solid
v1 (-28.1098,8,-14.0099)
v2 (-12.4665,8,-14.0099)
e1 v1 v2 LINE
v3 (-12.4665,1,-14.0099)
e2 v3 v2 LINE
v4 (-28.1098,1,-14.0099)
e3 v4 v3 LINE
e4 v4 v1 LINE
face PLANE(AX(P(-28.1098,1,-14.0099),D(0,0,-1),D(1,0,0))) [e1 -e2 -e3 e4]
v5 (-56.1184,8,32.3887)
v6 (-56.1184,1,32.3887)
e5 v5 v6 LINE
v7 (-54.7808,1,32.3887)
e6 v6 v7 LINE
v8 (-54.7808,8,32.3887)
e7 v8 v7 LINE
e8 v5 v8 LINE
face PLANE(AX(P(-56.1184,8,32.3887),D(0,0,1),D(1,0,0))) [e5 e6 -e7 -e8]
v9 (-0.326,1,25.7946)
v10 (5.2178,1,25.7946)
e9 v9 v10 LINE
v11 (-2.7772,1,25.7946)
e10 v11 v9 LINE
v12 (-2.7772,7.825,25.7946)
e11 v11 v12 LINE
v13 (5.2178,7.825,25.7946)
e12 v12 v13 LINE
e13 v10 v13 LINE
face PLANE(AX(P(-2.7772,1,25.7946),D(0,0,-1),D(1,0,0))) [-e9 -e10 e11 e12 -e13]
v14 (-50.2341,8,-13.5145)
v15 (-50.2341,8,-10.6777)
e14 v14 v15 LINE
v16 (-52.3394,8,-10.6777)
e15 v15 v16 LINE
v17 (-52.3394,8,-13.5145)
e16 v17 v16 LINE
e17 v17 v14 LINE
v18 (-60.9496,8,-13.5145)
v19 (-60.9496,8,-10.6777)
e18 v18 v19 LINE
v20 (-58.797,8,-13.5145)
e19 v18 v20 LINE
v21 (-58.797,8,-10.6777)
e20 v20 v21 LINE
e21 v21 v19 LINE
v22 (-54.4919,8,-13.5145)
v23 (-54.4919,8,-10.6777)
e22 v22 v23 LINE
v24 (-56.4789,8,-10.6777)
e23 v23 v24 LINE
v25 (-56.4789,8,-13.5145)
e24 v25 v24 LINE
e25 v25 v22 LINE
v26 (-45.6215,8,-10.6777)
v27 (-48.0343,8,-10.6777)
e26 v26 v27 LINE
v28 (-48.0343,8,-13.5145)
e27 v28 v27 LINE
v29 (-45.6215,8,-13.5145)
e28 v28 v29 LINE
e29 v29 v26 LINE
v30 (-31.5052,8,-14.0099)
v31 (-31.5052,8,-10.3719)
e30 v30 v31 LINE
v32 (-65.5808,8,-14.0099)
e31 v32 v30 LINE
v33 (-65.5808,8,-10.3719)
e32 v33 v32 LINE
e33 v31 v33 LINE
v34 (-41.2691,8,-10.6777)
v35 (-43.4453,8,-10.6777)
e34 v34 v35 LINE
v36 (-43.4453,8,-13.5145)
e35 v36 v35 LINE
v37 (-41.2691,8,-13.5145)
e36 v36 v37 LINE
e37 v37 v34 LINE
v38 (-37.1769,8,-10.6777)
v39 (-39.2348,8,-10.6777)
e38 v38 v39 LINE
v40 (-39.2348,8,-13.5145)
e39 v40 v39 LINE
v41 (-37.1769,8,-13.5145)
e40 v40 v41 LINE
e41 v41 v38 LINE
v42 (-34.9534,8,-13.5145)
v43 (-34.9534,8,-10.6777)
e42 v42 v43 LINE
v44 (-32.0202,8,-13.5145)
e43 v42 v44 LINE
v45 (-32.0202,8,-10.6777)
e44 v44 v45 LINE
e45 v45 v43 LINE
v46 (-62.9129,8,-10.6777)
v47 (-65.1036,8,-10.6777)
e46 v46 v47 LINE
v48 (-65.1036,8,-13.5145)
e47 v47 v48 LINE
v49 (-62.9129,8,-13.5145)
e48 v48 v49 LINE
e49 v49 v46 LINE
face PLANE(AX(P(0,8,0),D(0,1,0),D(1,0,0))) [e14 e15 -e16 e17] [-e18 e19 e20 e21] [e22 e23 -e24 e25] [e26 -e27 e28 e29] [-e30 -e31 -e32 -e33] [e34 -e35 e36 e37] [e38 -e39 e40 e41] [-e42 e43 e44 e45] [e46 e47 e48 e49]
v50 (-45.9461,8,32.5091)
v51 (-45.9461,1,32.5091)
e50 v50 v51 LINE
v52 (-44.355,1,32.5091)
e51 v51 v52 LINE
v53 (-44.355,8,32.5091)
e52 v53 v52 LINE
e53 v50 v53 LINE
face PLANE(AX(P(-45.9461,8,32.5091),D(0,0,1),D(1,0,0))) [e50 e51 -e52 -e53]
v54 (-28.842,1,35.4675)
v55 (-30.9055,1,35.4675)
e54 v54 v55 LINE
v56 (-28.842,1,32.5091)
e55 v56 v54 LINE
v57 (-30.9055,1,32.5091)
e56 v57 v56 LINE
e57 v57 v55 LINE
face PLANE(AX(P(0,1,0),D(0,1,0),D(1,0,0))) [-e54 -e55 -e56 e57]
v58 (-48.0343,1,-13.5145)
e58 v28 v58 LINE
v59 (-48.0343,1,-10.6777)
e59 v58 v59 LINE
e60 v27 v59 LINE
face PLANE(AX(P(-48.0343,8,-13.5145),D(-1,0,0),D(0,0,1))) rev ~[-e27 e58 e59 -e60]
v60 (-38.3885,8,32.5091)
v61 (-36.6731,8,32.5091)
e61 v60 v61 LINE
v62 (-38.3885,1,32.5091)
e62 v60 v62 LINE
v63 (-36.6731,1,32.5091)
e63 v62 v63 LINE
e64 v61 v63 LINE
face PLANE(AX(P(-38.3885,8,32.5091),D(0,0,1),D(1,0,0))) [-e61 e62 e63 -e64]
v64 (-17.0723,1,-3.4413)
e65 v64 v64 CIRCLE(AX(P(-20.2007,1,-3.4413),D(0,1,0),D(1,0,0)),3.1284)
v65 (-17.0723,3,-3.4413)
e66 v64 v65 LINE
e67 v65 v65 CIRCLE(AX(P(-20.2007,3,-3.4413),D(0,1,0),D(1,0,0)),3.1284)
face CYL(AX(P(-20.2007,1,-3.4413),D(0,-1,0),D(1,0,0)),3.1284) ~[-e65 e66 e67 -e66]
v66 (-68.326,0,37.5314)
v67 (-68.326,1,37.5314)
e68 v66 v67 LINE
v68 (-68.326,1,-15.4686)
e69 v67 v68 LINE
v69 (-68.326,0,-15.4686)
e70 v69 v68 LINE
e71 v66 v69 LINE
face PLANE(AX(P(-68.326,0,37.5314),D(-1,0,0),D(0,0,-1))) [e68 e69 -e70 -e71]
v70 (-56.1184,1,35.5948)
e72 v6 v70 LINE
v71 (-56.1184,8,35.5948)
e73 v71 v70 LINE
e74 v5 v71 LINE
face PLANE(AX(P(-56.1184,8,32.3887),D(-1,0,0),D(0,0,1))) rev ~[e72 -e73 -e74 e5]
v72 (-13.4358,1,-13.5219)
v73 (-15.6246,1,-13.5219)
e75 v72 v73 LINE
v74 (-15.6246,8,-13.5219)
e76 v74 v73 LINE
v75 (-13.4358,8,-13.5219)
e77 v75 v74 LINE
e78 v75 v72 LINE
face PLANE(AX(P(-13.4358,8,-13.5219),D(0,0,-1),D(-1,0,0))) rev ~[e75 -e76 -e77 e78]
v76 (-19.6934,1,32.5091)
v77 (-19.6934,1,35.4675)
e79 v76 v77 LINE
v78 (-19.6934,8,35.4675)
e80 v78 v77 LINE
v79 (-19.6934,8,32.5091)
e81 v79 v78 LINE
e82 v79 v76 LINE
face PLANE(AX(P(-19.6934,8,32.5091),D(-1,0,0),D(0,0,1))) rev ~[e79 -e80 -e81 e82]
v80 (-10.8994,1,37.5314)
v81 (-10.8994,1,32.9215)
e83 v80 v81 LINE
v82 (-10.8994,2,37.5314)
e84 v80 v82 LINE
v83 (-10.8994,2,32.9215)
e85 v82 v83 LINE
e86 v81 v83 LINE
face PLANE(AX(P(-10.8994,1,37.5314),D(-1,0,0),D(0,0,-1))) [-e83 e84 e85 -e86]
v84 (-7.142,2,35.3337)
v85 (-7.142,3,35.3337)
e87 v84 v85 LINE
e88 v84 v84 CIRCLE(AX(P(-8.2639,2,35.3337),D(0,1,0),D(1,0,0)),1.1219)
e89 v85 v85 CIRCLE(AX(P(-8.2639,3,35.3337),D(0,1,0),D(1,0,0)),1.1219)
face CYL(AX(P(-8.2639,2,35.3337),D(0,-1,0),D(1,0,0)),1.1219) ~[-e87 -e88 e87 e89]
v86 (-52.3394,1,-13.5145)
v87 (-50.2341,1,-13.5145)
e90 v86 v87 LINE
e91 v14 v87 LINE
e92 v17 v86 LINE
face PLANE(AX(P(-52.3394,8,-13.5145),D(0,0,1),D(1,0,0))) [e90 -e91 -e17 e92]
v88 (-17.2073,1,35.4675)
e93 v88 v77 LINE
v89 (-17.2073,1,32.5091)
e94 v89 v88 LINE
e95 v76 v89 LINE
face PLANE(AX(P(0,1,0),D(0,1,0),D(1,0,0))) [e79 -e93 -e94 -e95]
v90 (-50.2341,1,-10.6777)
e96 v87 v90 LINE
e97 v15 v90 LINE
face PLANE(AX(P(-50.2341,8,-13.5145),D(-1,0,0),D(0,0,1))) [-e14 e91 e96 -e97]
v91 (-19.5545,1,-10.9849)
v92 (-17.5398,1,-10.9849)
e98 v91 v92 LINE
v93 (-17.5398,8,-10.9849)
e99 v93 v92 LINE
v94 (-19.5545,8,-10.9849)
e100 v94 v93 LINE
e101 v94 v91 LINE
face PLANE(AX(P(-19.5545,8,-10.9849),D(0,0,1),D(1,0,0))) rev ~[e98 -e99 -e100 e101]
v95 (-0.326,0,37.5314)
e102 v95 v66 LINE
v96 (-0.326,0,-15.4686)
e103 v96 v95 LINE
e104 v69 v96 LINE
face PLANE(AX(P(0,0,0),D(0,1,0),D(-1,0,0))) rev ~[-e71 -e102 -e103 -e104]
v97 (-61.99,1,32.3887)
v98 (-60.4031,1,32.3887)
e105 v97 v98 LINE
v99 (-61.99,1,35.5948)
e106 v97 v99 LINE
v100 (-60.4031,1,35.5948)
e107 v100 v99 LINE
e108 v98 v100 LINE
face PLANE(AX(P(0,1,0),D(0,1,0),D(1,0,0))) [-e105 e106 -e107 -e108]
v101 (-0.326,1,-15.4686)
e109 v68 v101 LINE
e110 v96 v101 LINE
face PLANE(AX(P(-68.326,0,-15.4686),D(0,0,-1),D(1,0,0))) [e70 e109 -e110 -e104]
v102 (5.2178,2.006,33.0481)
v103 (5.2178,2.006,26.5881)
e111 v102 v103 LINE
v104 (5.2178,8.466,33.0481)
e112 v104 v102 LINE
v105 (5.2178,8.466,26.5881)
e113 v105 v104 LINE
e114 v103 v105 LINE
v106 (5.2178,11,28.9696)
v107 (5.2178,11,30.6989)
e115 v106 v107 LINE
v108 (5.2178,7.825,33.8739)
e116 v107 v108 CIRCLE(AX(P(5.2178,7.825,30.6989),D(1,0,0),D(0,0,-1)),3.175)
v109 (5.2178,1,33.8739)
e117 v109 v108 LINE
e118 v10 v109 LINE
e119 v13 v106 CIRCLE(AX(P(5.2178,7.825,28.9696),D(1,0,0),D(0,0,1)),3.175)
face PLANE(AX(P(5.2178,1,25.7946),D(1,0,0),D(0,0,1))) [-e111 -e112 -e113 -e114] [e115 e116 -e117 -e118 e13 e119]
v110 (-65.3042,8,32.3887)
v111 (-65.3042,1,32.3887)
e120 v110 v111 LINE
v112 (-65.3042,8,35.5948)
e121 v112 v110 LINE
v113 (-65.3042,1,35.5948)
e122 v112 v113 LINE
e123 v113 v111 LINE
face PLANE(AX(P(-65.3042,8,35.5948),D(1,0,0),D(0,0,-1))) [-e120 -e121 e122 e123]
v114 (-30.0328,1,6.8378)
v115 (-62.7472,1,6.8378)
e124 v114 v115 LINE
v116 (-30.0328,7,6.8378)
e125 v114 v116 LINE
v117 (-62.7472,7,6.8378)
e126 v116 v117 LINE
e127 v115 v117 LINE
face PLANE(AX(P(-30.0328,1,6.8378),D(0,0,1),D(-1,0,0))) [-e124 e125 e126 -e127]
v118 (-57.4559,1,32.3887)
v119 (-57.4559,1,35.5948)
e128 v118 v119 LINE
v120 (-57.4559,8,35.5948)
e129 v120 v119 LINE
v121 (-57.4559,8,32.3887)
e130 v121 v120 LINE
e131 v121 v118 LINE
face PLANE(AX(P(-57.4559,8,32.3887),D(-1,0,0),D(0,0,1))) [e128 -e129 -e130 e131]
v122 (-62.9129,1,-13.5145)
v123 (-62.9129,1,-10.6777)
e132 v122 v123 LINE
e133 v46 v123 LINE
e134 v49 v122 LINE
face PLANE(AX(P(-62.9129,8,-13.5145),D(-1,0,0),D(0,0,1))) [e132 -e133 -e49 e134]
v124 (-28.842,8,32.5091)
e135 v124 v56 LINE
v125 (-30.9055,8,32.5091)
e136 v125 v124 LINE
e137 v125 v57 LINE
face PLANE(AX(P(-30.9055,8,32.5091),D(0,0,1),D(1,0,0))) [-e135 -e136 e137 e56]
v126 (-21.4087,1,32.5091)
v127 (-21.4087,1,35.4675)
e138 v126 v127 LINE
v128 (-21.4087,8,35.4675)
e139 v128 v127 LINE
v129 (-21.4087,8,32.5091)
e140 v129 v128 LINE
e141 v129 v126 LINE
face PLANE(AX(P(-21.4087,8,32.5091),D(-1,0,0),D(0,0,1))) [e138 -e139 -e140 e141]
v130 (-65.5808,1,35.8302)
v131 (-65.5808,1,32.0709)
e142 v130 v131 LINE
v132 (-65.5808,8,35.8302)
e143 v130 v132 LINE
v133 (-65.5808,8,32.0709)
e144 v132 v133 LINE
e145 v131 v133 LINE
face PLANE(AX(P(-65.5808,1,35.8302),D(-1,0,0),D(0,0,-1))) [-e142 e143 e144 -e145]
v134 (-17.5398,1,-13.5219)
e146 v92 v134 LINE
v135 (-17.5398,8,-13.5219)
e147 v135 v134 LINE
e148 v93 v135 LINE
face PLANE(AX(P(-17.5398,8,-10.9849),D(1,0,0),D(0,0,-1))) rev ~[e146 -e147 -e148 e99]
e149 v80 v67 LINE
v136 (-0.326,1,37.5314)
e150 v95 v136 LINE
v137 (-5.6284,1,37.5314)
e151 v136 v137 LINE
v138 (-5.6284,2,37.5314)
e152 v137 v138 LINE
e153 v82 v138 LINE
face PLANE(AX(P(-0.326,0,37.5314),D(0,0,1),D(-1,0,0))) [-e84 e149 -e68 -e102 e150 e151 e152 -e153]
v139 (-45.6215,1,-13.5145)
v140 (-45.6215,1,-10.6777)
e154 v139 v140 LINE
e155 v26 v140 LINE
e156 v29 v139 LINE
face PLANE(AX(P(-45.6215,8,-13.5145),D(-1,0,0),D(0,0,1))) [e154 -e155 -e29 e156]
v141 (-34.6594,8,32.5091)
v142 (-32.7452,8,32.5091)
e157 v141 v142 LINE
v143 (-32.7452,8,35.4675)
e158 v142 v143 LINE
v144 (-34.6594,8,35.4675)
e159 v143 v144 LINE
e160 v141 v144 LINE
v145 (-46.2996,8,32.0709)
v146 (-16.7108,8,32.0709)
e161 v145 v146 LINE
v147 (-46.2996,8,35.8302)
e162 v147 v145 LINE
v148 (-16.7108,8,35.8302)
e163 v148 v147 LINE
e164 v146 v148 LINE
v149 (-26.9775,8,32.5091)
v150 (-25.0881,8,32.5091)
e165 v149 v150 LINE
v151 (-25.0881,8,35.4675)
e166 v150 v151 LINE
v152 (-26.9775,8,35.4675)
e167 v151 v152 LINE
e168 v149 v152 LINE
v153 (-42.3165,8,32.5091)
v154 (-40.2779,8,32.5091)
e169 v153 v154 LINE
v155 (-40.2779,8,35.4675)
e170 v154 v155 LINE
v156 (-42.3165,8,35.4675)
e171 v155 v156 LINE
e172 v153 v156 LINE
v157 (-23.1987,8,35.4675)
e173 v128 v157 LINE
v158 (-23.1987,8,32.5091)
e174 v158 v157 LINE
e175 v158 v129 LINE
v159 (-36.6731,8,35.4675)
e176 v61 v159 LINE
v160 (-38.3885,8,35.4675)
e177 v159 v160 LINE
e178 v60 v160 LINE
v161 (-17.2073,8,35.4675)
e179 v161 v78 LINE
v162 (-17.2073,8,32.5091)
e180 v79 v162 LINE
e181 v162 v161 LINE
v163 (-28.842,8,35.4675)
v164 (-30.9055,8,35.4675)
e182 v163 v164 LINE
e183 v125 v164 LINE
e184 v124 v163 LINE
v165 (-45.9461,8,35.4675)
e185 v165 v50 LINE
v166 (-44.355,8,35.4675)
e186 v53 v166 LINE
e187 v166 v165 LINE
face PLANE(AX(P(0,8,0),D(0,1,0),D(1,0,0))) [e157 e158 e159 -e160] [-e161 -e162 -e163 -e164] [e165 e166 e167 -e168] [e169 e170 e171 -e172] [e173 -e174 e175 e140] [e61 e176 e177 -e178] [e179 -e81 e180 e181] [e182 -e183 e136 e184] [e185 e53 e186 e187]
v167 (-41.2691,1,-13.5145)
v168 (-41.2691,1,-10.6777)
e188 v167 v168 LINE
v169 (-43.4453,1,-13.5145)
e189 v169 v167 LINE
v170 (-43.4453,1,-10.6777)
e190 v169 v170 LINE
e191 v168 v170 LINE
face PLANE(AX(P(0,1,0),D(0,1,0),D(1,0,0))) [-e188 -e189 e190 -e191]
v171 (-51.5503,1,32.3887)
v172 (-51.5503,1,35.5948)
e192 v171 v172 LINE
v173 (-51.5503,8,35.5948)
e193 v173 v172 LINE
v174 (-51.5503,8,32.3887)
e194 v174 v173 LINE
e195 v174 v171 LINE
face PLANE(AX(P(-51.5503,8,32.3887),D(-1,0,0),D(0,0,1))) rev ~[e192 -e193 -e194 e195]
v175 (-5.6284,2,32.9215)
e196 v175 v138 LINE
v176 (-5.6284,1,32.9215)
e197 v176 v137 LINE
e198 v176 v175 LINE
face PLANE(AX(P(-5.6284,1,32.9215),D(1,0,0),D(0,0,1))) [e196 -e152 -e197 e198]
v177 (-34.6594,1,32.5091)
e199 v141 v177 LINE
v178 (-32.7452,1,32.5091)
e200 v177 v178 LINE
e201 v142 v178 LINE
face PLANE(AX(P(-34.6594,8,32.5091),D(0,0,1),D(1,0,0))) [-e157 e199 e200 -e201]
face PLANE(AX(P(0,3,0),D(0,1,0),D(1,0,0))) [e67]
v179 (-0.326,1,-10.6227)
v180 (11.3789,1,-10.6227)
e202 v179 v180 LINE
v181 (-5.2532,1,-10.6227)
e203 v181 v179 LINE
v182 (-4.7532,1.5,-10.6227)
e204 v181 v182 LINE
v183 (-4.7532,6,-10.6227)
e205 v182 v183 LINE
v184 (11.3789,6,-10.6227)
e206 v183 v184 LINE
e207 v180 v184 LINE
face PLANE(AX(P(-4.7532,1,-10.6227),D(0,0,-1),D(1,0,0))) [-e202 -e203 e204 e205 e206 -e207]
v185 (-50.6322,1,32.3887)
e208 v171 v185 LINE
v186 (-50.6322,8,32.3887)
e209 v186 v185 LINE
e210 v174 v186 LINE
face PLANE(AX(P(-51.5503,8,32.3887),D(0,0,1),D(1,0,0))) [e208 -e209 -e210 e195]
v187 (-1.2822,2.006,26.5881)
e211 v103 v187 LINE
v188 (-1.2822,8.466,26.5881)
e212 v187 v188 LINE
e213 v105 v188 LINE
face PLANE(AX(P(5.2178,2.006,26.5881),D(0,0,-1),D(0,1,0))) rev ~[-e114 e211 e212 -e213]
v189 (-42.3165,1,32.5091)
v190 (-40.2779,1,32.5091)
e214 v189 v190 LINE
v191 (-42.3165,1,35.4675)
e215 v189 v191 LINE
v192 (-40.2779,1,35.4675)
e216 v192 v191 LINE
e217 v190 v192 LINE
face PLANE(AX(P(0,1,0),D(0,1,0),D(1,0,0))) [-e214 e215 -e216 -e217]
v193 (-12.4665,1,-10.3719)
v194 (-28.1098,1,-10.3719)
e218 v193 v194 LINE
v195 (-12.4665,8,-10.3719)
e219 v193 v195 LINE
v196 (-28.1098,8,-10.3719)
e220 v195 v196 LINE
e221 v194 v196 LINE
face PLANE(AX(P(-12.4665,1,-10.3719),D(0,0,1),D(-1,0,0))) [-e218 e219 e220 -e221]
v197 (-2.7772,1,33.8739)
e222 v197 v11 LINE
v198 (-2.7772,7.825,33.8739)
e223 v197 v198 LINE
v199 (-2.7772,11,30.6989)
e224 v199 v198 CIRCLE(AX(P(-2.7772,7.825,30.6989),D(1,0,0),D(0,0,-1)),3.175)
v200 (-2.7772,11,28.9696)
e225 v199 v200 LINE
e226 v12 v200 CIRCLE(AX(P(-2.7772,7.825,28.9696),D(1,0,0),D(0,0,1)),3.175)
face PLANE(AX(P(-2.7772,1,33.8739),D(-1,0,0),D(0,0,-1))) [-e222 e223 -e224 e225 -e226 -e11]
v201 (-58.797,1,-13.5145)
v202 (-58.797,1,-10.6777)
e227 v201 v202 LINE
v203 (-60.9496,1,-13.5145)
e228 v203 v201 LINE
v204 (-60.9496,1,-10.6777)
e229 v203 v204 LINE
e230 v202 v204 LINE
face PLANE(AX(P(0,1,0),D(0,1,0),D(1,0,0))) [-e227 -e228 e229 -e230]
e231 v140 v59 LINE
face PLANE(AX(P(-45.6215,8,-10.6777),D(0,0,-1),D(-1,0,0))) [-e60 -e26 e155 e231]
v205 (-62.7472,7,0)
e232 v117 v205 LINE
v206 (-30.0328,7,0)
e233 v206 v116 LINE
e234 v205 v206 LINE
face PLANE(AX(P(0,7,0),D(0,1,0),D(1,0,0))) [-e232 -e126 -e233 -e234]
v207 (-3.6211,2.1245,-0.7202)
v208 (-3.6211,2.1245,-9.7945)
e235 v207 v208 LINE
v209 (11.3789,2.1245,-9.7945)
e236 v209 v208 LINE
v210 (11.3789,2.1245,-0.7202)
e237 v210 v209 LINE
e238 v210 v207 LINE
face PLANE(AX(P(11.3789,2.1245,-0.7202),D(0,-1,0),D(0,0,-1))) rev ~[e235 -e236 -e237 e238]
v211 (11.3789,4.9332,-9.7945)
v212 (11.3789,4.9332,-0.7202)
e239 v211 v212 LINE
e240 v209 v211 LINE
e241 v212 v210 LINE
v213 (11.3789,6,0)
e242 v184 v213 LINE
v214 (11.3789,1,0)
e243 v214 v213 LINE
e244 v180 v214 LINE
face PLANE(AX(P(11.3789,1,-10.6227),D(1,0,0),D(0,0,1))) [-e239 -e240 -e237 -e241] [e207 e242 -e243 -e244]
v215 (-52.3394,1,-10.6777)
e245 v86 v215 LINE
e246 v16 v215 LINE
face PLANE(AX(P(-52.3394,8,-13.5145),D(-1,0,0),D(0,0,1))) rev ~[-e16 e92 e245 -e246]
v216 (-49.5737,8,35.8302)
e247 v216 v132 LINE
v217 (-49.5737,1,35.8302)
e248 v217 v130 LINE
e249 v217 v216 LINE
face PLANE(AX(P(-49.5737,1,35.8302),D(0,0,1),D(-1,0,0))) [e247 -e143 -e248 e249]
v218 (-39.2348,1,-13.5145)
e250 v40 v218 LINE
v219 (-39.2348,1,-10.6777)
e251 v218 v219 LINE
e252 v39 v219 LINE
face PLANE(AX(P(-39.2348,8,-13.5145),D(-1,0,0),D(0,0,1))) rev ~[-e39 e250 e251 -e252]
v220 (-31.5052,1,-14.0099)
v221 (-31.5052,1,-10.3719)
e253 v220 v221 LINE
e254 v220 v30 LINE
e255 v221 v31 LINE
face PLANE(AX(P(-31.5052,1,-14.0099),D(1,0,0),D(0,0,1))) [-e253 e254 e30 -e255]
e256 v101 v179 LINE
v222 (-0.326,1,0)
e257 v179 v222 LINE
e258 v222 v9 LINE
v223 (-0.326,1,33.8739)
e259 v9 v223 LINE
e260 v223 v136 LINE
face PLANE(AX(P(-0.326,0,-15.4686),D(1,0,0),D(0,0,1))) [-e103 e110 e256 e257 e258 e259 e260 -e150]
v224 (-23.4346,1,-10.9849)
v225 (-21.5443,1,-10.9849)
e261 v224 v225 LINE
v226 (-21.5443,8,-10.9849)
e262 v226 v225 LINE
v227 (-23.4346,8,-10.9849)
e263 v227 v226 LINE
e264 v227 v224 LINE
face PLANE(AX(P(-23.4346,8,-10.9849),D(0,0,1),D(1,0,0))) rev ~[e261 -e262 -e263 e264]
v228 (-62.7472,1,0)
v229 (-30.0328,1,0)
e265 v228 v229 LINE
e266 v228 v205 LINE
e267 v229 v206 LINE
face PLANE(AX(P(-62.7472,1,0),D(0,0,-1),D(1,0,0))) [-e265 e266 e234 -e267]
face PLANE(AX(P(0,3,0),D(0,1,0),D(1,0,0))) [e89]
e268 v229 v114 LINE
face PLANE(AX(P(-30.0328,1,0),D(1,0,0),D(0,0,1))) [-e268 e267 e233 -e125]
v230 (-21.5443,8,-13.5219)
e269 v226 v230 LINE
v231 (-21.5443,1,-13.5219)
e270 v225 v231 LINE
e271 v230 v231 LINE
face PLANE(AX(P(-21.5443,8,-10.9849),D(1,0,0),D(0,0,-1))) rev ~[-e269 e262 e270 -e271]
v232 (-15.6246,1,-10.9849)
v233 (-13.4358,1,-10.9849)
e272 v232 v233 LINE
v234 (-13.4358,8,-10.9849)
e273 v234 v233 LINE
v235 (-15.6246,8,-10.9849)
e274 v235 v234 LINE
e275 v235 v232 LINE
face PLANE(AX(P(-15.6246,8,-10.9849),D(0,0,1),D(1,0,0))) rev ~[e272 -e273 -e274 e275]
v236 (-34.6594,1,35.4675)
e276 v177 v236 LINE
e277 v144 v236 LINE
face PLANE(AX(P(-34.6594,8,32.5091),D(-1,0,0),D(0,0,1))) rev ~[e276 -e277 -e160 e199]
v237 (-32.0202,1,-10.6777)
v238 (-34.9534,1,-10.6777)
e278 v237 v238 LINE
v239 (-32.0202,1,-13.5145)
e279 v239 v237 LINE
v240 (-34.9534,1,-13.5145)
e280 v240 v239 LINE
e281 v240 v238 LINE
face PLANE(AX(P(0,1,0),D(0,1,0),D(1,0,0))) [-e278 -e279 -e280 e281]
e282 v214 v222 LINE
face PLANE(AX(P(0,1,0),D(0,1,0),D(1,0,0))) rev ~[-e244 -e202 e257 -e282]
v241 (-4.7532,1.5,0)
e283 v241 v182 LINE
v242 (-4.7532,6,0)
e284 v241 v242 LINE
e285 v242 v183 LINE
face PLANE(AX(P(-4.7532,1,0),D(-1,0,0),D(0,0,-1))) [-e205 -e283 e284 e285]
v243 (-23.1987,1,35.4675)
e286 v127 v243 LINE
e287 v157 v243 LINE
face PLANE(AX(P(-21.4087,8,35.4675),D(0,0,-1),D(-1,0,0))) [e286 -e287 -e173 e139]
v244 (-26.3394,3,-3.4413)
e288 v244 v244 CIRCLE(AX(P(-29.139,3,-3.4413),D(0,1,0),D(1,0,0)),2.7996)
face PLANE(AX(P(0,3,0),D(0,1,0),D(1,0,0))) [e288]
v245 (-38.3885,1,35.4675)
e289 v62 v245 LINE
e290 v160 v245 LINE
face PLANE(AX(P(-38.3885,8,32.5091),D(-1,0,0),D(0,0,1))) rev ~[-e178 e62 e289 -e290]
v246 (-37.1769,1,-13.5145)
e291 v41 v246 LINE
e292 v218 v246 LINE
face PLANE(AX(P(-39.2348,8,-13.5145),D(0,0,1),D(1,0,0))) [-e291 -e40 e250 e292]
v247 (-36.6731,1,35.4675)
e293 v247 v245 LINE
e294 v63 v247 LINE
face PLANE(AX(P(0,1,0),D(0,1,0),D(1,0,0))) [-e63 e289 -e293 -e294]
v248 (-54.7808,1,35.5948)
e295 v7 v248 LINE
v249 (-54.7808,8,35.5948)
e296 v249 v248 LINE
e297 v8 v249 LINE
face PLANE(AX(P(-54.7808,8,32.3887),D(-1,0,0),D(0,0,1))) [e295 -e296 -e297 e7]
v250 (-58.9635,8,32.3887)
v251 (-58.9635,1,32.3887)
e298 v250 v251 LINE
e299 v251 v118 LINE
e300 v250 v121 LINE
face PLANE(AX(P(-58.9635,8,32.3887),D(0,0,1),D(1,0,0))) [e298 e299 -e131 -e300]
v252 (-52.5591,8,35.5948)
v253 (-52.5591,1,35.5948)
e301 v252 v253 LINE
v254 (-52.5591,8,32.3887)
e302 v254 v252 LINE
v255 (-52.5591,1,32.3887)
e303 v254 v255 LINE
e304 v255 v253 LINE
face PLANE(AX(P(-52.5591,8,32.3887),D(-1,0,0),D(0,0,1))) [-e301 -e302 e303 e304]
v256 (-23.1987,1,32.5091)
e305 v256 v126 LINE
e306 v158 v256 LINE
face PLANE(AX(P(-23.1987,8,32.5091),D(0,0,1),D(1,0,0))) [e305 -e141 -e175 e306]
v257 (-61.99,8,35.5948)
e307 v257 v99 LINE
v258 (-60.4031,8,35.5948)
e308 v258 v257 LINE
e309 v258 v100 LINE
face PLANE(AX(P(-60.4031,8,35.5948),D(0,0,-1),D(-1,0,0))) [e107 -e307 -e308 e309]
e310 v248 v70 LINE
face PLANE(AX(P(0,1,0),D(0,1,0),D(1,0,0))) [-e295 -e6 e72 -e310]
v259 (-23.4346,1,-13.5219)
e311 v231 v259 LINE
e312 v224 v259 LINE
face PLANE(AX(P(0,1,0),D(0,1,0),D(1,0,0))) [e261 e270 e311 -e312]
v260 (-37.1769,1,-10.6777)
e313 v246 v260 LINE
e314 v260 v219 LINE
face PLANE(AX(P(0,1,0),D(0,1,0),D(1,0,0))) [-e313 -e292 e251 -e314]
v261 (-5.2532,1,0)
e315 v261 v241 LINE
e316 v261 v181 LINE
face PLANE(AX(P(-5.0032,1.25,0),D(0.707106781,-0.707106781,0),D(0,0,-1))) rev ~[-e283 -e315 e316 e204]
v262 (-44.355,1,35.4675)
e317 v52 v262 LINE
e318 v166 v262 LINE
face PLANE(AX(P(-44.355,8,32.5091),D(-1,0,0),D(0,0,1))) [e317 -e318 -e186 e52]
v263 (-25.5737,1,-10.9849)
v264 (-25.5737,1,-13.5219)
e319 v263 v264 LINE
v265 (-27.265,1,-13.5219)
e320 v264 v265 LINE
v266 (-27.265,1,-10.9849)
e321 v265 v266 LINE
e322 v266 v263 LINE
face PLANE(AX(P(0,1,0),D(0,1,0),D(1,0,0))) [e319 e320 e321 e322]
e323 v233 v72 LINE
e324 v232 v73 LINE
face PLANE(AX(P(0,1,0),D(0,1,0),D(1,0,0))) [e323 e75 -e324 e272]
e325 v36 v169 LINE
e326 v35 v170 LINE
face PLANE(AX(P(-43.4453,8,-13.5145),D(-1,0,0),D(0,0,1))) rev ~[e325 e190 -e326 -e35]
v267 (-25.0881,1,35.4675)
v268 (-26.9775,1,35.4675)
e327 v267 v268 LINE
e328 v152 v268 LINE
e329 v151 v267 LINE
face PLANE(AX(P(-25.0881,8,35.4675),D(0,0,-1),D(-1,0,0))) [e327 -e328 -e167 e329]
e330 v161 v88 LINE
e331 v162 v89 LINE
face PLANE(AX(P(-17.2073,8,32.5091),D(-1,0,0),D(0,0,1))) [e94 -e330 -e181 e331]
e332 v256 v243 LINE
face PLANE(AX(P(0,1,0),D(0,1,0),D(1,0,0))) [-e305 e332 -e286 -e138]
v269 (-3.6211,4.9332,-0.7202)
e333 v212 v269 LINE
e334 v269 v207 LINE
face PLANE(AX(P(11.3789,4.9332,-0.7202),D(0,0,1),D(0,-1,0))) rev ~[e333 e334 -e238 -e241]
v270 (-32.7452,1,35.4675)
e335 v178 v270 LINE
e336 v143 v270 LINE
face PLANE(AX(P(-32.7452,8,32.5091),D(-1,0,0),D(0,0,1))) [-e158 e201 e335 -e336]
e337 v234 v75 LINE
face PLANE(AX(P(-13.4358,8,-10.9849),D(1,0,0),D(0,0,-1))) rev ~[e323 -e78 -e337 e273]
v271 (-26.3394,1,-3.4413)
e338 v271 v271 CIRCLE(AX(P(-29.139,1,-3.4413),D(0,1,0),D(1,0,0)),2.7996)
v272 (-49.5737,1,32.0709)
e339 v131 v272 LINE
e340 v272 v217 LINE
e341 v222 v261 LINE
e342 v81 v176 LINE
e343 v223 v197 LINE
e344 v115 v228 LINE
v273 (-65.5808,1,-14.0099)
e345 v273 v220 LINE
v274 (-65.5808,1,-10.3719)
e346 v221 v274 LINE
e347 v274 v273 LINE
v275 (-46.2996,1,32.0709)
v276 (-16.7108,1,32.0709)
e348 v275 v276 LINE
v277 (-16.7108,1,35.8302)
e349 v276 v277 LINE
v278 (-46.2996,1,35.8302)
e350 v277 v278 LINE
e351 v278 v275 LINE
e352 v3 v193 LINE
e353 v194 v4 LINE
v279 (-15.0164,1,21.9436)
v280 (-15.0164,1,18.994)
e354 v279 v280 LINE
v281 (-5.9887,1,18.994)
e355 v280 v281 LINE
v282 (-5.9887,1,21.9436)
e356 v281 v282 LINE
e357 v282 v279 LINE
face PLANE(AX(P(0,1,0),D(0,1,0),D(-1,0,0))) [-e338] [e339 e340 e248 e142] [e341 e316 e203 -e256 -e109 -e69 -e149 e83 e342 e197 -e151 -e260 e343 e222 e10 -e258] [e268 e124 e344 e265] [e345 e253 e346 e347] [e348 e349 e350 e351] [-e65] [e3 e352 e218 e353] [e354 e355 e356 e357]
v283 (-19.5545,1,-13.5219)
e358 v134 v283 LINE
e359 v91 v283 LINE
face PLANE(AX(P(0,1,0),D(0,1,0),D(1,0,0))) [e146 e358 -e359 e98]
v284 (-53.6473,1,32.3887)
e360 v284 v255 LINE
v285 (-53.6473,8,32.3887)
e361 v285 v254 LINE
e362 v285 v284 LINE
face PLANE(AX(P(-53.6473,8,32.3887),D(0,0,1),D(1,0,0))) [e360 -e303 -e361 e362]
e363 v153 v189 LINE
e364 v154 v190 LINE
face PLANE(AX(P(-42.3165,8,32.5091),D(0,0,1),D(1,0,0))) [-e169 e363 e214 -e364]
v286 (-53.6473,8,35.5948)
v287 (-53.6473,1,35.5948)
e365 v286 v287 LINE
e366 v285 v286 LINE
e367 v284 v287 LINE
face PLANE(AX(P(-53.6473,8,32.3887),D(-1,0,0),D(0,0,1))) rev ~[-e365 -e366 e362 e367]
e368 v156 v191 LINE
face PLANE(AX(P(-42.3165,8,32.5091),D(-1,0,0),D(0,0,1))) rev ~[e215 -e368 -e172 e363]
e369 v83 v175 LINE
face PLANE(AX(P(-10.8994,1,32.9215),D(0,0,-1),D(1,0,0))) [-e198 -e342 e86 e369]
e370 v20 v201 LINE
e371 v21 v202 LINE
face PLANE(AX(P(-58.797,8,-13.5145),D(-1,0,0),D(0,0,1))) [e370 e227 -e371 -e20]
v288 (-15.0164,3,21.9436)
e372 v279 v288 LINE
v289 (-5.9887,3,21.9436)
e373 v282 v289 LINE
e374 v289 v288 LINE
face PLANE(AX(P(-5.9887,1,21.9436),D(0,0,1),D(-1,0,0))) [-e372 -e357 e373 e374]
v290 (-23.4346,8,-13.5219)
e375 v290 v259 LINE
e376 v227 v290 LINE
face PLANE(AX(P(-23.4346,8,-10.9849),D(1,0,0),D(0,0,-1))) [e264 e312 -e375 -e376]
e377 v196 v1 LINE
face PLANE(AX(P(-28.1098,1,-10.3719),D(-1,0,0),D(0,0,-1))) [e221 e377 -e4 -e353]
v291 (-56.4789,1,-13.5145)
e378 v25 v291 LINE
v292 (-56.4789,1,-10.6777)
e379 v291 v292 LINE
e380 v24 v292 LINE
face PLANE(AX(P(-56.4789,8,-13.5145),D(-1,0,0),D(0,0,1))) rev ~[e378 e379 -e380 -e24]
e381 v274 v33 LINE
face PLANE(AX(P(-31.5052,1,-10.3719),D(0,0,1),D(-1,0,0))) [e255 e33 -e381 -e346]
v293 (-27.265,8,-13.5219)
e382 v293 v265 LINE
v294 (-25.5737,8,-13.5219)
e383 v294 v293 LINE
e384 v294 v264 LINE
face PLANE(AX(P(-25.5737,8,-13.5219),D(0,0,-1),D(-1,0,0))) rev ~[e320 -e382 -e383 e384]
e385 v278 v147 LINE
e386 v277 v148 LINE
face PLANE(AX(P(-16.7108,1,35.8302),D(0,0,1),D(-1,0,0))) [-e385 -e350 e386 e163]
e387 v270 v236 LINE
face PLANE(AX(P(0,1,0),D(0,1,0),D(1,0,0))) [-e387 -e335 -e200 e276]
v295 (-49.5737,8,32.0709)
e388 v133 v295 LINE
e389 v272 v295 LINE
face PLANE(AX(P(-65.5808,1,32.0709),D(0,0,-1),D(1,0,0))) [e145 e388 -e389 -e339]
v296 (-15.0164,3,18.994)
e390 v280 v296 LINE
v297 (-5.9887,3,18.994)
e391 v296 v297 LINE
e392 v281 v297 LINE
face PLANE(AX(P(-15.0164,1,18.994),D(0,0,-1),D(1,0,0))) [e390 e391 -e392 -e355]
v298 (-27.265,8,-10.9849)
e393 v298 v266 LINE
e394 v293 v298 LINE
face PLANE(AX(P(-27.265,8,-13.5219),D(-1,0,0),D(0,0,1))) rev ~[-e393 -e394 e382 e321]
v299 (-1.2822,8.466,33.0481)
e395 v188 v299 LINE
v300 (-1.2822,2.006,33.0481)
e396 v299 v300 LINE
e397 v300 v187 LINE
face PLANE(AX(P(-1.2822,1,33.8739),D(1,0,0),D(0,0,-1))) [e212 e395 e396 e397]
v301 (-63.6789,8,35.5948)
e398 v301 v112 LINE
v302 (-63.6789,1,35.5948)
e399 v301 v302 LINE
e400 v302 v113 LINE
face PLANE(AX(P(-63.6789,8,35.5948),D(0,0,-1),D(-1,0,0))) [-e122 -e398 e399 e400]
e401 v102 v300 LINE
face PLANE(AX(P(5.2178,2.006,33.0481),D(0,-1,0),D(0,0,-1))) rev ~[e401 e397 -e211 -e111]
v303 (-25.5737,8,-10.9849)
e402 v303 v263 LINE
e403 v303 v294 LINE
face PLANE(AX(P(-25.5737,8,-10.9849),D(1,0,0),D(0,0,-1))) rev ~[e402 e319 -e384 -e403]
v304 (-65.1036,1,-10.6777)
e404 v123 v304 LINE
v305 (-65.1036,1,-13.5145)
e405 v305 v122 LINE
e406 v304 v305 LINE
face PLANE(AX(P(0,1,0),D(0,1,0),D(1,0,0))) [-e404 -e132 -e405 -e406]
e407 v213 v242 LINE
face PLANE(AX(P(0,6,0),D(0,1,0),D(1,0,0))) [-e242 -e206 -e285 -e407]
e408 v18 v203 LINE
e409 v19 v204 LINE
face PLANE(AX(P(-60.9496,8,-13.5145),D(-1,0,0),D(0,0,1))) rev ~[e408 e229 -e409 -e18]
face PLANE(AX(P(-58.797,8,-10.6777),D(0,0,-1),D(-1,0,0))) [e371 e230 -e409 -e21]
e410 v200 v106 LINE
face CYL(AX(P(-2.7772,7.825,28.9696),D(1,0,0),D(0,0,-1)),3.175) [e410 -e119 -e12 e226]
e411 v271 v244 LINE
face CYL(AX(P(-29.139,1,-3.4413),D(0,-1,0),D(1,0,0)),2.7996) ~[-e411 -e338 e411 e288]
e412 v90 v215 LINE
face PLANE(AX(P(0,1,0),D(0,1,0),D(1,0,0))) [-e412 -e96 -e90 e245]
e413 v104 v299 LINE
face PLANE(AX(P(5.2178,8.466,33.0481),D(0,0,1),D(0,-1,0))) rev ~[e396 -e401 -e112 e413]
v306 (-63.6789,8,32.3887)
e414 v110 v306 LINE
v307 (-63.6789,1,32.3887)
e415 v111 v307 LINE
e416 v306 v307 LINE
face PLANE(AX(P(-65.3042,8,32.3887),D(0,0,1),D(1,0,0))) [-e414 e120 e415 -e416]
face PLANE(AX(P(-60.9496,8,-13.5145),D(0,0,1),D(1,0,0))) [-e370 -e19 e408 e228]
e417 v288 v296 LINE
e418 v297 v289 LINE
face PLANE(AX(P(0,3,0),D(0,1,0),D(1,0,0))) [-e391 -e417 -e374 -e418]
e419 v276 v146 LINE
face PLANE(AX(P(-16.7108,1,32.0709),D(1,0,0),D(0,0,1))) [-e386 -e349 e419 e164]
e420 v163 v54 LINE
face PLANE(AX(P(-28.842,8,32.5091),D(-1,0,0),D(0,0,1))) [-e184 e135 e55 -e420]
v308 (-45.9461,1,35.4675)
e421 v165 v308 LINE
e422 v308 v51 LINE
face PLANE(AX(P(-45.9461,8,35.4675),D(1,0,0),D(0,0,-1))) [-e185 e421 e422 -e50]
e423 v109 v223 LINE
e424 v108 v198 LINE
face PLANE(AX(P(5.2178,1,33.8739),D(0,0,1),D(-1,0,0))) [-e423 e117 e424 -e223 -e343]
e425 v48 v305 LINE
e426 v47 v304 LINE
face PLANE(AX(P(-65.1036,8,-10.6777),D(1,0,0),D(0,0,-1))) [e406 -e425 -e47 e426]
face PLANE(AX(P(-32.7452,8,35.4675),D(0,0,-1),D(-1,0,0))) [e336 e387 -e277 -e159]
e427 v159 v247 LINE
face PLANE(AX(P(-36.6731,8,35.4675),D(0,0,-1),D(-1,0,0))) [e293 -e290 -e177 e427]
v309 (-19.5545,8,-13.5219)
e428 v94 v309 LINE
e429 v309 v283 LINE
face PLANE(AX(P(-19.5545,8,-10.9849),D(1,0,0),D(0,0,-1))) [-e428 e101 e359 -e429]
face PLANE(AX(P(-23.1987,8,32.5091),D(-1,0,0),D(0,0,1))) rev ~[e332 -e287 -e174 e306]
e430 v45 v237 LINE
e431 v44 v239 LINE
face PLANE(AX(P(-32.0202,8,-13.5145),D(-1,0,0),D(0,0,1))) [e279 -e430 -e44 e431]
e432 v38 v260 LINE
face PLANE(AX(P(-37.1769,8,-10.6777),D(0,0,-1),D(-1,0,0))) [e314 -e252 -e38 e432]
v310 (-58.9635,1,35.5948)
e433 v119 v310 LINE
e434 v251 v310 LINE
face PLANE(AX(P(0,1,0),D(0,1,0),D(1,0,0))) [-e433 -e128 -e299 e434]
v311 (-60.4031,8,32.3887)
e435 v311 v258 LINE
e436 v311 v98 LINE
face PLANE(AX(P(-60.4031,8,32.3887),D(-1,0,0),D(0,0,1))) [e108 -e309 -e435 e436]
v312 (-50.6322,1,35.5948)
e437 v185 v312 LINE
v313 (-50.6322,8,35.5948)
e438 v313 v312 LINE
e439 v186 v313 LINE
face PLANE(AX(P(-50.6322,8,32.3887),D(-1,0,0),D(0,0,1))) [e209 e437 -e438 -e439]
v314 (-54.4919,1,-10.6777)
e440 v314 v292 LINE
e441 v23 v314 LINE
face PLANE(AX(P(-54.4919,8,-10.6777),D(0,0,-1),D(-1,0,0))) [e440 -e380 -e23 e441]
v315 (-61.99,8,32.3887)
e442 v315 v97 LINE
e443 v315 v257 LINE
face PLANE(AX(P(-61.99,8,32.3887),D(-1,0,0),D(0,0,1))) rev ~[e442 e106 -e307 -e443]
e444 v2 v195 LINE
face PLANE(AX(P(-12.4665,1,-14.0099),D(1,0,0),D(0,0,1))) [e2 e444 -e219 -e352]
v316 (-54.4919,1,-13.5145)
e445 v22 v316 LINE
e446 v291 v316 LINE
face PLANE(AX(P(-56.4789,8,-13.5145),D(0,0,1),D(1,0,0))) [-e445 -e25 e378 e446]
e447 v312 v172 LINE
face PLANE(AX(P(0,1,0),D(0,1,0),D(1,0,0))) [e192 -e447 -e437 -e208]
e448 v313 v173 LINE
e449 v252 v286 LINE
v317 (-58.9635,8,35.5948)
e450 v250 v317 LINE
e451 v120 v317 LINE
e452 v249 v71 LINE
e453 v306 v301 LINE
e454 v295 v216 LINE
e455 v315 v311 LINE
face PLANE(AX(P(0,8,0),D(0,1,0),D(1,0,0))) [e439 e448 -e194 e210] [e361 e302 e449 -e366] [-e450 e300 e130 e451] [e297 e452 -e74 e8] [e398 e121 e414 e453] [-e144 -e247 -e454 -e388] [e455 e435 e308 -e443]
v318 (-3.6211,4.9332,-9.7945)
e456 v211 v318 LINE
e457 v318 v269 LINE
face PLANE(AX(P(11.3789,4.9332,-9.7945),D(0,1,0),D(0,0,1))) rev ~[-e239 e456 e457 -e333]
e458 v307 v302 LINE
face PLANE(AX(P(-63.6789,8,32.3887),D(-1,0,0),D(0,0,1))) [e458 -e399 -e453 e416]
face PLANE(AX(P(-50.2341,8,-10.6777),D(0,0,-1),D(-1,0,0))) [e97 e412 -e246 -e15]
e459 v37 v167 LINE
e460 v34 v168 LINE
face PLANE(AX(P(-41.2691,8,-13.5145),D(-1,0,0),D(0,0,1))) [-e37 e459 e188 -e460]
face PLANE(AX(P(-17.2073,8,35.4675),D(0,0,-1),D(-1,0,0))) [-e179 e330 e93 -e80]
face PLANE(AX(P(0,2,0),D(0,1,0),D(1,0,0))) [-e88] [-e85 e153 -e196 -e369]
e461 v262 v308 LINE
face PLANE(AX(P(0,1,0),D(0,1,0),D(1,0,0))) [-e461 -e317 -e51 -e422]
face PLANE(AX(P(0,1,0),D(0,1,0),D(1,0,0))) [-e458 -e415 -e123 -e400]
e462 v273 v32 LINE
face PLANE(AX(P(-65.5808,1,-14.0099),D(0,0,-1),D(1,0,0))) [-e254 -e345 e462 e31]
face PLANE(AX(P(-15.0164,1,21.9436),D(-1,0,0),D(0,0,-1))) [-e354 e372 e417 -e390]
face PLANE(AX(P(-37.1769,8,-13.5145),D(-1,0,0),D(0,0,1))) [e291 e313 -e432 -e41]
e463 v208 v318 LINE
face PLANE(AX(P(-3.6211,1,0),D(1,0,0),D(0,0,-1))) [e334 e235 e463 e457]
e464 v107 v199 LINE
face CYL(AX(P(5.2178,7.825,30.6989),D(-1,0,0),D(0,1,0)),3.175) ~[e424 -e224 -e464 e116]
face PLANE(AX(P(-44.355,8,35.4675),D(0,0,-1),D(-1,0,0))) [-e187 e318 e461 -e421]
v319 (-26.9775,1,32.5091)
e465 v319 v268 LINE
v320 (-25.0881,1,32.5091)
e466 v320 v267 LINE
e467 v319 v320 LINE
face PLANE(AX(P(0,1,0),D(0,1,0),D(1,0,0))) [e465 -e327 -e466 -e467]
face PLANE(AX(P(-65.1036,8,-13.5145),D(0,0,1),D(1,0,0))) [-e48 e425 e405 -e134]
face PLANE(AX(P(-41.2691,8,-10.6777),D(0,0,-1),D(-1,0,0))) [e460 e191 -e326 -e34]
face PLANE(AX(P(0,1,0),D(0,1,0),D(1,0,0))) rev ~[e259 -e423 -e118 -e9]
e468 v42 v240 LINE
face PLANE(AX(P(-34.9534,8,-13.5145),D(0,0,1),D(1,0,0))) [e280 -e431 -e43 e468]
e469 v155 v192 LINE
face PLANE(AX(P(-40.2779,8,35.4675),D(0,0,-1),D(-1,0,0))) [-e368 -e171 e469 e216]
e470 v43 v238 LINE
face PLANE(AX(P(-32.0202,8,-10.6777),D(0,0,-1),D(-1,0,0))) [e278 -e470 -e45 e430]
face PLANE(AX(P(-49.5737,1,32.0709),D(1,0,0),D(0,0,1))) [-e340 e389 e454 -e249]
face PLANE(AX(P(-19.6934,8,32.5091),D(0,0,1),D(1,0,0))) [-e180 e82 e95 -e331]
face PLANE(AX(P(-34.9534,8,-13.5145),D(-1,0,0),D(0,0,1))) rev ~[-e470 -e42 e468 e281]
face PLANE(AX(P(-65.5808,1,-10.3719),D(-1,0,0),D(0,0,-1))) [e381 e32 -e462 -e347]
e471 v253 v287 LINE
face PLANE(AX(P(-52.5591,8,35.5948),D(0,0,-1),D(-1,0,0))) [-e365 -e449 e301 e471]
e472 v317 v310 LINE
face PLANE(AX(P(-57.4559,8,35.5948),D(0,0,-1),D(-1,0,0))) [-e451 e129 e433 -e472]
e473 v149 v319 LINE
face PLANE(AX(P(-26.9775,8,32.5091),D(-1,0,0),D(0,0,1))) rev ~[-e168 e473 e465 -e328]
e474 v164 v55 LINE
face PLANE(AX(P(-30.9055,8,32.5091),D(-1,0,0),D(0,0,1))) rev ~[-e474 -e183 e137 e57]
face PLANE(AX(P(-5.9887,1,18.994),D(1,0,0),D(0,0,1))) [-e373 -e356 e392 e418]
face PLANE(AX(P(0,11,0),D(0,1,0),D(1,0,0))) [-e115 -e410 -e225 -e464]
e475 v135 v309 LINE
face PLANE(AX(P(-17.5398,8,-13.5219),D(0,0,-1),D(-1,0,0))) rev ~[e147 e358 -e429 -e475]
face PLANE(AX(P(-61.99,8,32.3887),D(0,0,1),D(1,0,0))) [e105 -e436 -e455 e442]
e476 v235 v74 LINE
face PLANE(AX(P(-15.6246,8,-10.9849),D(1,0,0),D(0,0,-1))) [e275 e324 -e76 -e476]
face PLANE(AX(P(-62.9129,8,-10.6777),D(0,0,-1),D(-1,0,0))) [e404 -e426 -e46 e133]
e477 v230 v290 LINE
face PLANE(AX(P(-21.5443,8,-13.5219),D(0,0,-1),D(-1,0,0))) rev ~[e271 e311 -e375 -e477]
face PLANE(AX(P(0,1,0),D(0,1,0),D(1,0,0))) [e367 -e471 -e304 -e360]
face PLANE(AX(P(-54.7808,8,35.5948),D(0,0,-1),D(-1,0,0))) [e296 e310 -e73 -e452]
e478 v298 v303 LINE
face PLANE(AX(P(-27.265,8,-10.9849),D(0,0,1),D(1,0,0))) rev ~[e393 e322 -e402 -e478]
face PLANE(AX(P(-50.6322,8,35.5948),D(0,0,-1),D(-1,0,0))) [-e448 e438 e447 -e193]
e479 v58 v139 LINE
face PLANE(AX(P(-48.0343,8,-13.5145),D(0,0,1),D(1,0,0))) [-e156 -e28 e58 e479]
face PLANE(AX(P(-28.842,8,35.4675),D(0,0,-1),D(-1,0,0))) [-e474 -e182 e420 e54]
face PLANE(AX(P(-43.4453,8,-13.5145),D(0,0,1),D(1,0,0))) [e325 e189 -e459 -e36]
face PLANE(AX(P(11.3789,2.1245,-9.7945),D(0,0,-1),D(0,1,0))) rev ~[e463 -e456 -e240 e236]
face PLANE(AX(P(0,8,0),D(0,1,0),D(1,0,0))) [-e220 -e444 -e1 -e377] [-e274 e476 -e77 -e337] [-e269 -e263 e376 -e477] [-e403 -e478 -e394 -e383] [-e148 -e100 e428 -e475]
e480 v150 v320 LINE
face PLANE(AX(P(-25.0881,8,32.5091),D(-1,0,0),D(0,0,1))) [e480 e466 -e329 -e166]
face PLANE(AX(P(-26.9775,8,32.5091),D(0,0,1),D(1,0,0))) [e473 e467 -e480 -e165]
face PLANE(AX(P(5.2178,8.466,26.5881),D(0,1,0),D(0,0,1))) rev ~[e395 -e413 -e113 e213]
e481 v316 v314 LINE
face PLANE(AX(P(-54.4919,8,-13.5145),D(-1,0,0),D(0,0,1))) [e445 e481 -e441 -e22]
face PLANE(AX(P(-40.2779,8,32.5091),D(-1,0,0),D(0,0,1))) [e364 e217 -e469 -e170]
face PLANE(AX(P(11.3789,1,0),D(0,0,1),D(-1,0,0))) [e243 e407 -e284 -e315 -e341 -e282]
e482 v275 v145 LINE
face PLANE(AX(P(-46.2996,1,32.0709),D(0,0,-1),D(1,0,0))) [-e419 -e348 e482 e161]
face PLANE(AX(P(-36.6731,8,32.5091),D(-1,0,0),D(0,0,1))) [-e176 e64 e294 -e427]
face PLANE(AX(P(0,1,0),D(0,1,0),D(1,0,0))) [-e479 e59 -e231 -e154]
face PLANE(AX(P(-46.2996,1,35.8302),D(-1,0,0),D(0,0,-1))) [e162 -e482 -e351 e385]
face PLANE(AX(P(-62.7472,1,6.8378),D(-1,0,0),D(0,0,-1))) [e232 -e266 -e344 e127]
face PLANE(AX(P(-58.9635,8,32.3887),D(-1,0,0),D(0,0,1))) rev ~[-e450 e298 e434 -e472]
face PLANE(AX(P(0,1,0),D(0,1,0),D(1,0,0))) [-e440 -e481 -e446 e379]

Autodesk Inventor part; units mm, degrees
ref_plane "YZ Plane" through (0, 0, 0) normal (1, 0, 0) x (0, 1, 0)
ref_plane "XZ Plane" through (0, 0, 0) normal (0, 1, 0) x (-1, 0, 0)
ref_plane "XY Plane" through (0, 0, 0) normal (0, 0, 1) x (1, 0, 0)
sketch "Sketch1" plane through (0, 0, 0) normal (0, 1, 0) x (-1, 0, 0)
  line L0 (0.326, 37.5314) -> (68.326, 37.5314)
  line L1 (68.326, 37.5314) -> (68.326, -15.4686)
  line L2 (68.326, -15.4686) -> (0.326, -15.4686)
  line L3 (0.326, -15.4686) -> (0.326, 37.5314)
  point P0 (0, 0)
  dimension "d0" = 68
  dimension "d1" = 53
extrude "Extrusion1" add sketch "Sketch1" along normal blind 1
sketch "Sketch2" plane through (0, 1, 0) normal (0, 1, 0) x (1, 0, 0)
  line L0 (-4.7532, 10.6227) -> (11.3789, 10.6227)
  line L1 (11.3789, 10.6227) -> (11.3789, 0)
  line L2 (11.3789, 0) -> (-4.7532, 0)
  line L3 (-4.7532, 0) -> (-4.7532, 10.6227)
  point P0 (0, 0)
extrude "Extrusion2" add sketch "Sketch2" along normal blind 5
chamfer "Chamfer1" distance 0.5 angle 45 1 edges at (-4.7532, 1, -5.3113)
sketch "Sketch3" plane through (11.3789, 1, 0) normal (1, 0, 0) x (0, 0, -1)
  line L0 (0.7202, 1.1245) -> (9.7945, 1.1245)
  line L1 (9.7945, 1.1245) -> (9.7945, 3.9332)
  line L2 (9.7945, 3.9332) -> (0.7202, 3.9332)
  line L3 (0.7202, 3.9332) -> (0.7202, 1.1245)
  point P0 (0, -1)
extrude "Extrusion3" cut sketch "Sketch3" against normal blind 15
sketch "Sketch4" plane through (0, 1, 0) normal (0, 1, 0) x (1, 0, 0)
  line L0 (-2.7772, -25.7946) -> (5.2178, -25.7946)
  line L1 (5.2178, -25.7946) -> (5.2178, -33.8739)
  line L2 (5.2178, -33.8739) -> (-2.7772, -33.8739)
  line L3 (-2.7772, -33.8739) -> (-2.7772, -25.7946)
  point P0 (0, 0)
extrude "Extrusion4" add sketch "Sketch4" along normal blind 10
fillet "Fillet1" radius 3.175 2 edges at (1.2203, 11, 33.8739) (1.2203, 11, 25.7946)
sketch "Sketch5" plane through (5.2178, 1, 33.8739) normal (1, 0, 0) x (0, 0, -1)
  line L0 (0.8258, 1.006) -> (7.2858, 1.006)
  line L1 (7.2858, 1.006) -> (7.2858, 7.466)
  line L2 (7.2858, 7.466) -> (0.8258, 7.466)
  line L3 (0.8258, 7.466) -> (0.8258, 1.006)
  point P0 (33.8739, -1)
extrude "Extrusion5" cut sketch "Sketch5" against normal blind 6.5
sketch "Sketch6" plane through (0, 1, 0) normal (0, 1, 0) x (1, 0, 0)
  point P0 (0, 0)
sketch "Sketch7" plane through (0, 1, 0) normal (0, 1, 0) x (1, 0, 0)
  point P0 (0, 0)
sketch "Sketch8" plane through (0, 1, 0) normal (0, 1, 0) x (1, 0, 0)
  line L0 (-68.326, -37.5314) -> (-0.326, -37.5314) projected
  line L1 (-10.8994, -32.9215) -> (-5.6284, -32.9215)
  line L2 (-5.6284, -32.9215) -> (-5.6284, -37.5314)
  line L3 (-5.6284, -37.5314) -> (-10.8994, -37.5314)
  line L4 (-10.8994, -37.5314) -> (-10.8994, -32.9215)
  point P0 (0, 0)
extrude "Extrusion6" add sketch "Sketch8" along normal blind 1
sketch "Sketch9" plane through (0, 2, 0) normal (0, 1, 0) x (1, 0, 0)
  circle A0 centre (-8.2639, -35.3337) radius 1.1219
  point P0 (0, 0)
extrude "Extrusion7" add sketch "Sketch9" along normal blind 1
sketch "Sketch10" plane through (0, 1, 0) normal (0, 1, 0) x (1, 0, 0)
  line L0 (-65.5808, -32.0709) -> (-49.5737, -32.0709)
  line L1 (-49.5737, -32.0709) -> (-49.5737, -35.8302)
  line L2 (-49.5737, -35.8302) -> (-65.5808, -35.8302)
  line L3 (-65.5808, -35.8302) -> (-65.5808, -32.0709)
  line L4 (-46.2996, -32.0709) -> (-16.7108, -32.0709)
  line L5 (-16.7108, -32.0709) -> (-16.7108, -35.8302)
  line L6 (-16.7108, -35.8302) -> (-46.2996, -35.8302)
  line L7 (-46.2996, -35.8302) -> (-46.2996, -32.0709)
  line L8 (-65.5808, 14.0099) -> (-31.5052, 14.0099)
  line L9 (-31.5052, 14.0099) -> (-31.5052, 10.3719)
  line L10 (-31.5052, 10.3719) -> (-65.5808, 10.3719)
  line L11 (-65.5808, 10.3719) -> (-65.5808, 14.0099)
  line L12 (-28.1098, 14.0099) -> (-12.4665, 14.0099)
  line L13 (-12.4665, 14.0099) -> (-12.4665, 10.3719)
  line L14 (-12.4665, 10.3719) -> (-28.1098, 10.3719)
  line L15 (-28.1098, 10.3719) -> (-28.1098, 14.0099)
  point P0 (0, 0)
extrude "Extrusion8" add sketch "Sketch10" along normal blind 7
sketch "Sketch11" plane through (0, 8, 0) normal (0, 1, 0) x (1, 0, 0)
  point P0 (0, 0)
sketch "Sketch12" plane through (0, 1, 0) normal (0, 1, 0) x (1, 0, 0)
  line L0 (-62.7472, 0) -> (-30.0328, 0)
  line L1 (-30.0328, 0) -> (-30.0328, -6.8378)
  line L2 (-30.0328, -6.8378) -> (-62.7472, -6.8378)
  line L3 (-62.7472, -6.8378) -> (-62.7472, 0)
  point P0 (0, 0)
extrude "Extrusion9" add sketch "Sketch12" along normal blind 6
sketch "Sketch13" plane through (0, 1, 0) normal (0, 1, 0) x (1, 0, 0)
  circle A0 centre (-29.139, 3.4413) radius 2.7996
  circle A1 centre (-20.2007, 3.4413) radius 3.1284
  point P0 (0, 0)
extrude "Extrusion10" add sketch "Sketch13" along normal blind 2
sketch "Sketch14" plane through (0, 1, 0) normal (0, 1, 0) x (1, 0, 0)
  point P0 (0, 0)
sketch "Sketch15" plane through (0, 1, 0) normal (0, 1, 0) x (1, 0, 0)
  line L0 (-15.0164, -18.994) -> (-5.9887, -18.994)
  line L1 (-5.9887, -18.994) -> (-5.9887, -21.9436)
  line L2 (-5.9887, -21.9436) -> (-15.0164, -21.9436)
  line L3 (-15.0164, -21.9436) -> (-15.0164, -18.994)
  point P0 (0, 0)
extrude "Extrusion11" add sketch "Sketch15" along normal blind 2
sketch "Sketch16" plane through (0, 8, 0) normal (0, 1, 0) x (1, 0, 0)
  point P0 (0, 0)
sketch "Sketch17" plane through (0, 8, 0) normal (0, 1, 0) x (1, 0, 0)
  point P0 (0, 0)
sketch "Sketch18" plane through (0, 8, 0) normal (0, 1, 0) x (1, 0, 0)
  line L0 (-45.9461, -32.5091) -> (-17.2073, -32.5091)
  line L1 (-17.2073, -32.5091) -> (-17.2073, -35.4675)
  line L2 (-17.2073, -35.4675) -> (-45.9461, -35.4675)
  line L3 (-45.9461, -35.4675) -> (-45.9461, -32.5091)
  line L4 (-44.355, -32.5091) -> (-44.355, -35.4675)
  line L5 (-42.3165, -32.5091) -> (-42.3165, -35.4675)
  line L6 (-40.2779, -32.5091) -> (-40.2779, -35.4675)
  line L7 (-38.3885, -32.5091) -> (-38.3885, -35.4675)
  line L8 (-36.6731, -32.5091) -> (-36.6731, -35.4675)
  line L9 (-34.6594, -32.5091) -> (-34.6594, -35.4675)
  line L10 (-32.7452, -32.5091) -> (-32.7452, -35.4675)
  line L11 (-30.9055, -32.5091) -> (-30.9055, -35.4675)
  line L12 (-28.842, -32.5091) -> (-28.842, -35.4675)
  line L13 (-26.9775, -32.5091) -> (-26.9775, -35.4675)
  line L14 (-25.0881, -32.5091) -> (-25.0881, -35.4675)
  line L15 (-23.1987, -32.5091) -> (-23.1987, -35.4675)
  line L16 (-21.4087, -32.5091) -> (-21.4087, -35.4675)
  line L17 (-19.6934, -32.5091) -> (-19.6934, -35.4675)
  point P0 (0, 0)
extrude "Extrusion12" cut sketch "Sketch18" against normal blind 7 contours L0 L4 L2 L3 | L0 L6 L2 L5 | L0 L8 L2 L7 | L0 L10 L2 L9 | L0 L12 L2 L11 | L0 L14 L2 L13 | L0 L16 L2 L15 | L0 L1 L2 L17
sketch "Sketch19" plane through (0, 8, 0) normal (0, 1, 0) x (1, 0, 0)
  line L0 (-65.3042, -32.3887) -> (-49.8579, -32.3887)
  line L1 (-49.8579, -32.3887) -> (-49.8579, -35.5948)
  line L2 (-49.8579, -35.5948) -> (-65.3042, -35.5948)
  line L3 (-65.3042, -35.5948) -> (-65.3042, -32.3887)
  line L4 (-63.6789, -32.3887) -> (-63.6789, -35.5948)
  line L5 (-61.99, -32.3887) -> (-61.99, -35.5948)
  line L6 (-60.4031, -32.3887) -> (-60.4031, -35.5948)
  line L7 (-58.9635, -32.3887) -> (-58.9635, -35.5948)
  line L8 (-57.4559, -32.3887) -> (-57.4559, -35.5948)
  line L9 (-56.1184, -32.3887) -> (-56.1184, -35.5948)
  line L10 (-54.7808, -32.3887) -> (-54.7808, -35.5948)
  line L11 (-53.6473, -32.3887) -> (-53.6473, -35.5948)
  line L12 (-52.5591, -32.3887) -> (-52.5591, -35.5948)
  line L13 (-51.5503, -32.3887) -> (-51.5503, -35.5948)
  line L14 (-50.6322, -32.3887) -> (-50.6322, -35.5948)
  point P0 (0, 0)
extrude "Extrusion13" cut sketch "Sketch19" against normal blind 7 contours L0 L4 L2 L3 | L0 L6 L2 L5 | L0 L8 L2 L7 | L0 L10 L2 L9 | L0 L12 L2 L11 | L0 L14 L2 L13
sketch "Sketch20" plane through (0, 1, 0) normal (0, 1, 0) x (1, 0, 0)
  line L0 (-55.91, -19.7296) -> (-31.8372, -19.7296) construction
  line L1 (-31.8372, -19.7296) -> (-31.8372, -22.9777) construction
  line L2 (-31.8372, -22.9777) -> (-55.91, -22.9777) construction
  line L3 (-55.91, -22.9777) -> (-55.91, -19.7296) construction
  point P0 (0, 0)
sketch "Sketch21" plane through (0, 8, 0) normal (0, 1, 0) x (1, 0, 0)
  line L0 (-65.1036, 13.5145) -> (-32.0202, 13.5145)
  line L1 (-32.0202, 13.5145) -> (-32.0202, 10.6777)
  line L2 (-32.0202, 10.6777) -> (-65.1036, 10.6777)
  line L3 (-65.1036, 10.6777) -> (-65.1036, 13.5145)
  line L4 (-62.9129, 13.5145) -> (-62.9129, 10.6777)
  line L5 (-60.9496, 13.5145) -> (-60.9496, 10.6777)
  line L6 (-58.797, 13.5145) -> (-58.797, 10.6777)
  line L7 (-56.4789, 13.5145) -> (-56.4789, 10.6777)
  line L8 (-54.4919, 13.5145) -> (-54.4919, 10.6777)
  line L9 (-52.3394, 13.5145) -> (-52.3394, 10.6777)
  line L10 (-50.2341, 13.5145) -> (-50.2341, 10.6777)
  line L11 (-48.0343, 13.5145) -> (-48.0343, 10.6777)
  line L12 (-45.6215, 13.5145) -> (-45.6215, 10.6777)
  line L13 (-43.4453, 13.5145) -> (-43.4453, 10.6777)
  line L14 (-41.2691, 13.5145) -> (-41.2691, 10.6777)
  line L15 (-39.2348, 13.5145) -> (-39.2348, 10.6777)
  line L16 (-37.1769, 13.5145) -> (-37.1769, 10.6777)
  line L17 (-34.9534, 13.5145) -> (-34.9534, 10.6777)
  point P0 (0, 0)
extrude "Extrusion14" cut sketch "Sketch21" against normal blind 7 contours L0 L4 L2 L3 | L0 L6 L2 L5 | L0 L8 L2 L7 | L0 L10 L2 L9 | L0 L12 L2 L11 | L0 L14 L2 L13 | L0 L16 L2 L15 | L0 L1 L2 L17
sketch "Sketch22" plane through (0, 8, 0) normal (0, 1, 0) x (1, 0, 0)
  line L0 (-27.265, 10.9849) -> (-13.4358, 10.9849)
  line L1 (-13.4358, 10.9849) -> (-13.4358, 13.5219)
  line L2 (-13.4358, 13.5219) -> (-27.265, 13.5219)
  line L3 (-27.265, 13.5219) -> (-27.265, 10.9849)
  line L4 (-25.5737, 10.9849) -> (-25.5737, 13.5219)
  line L5 (-23.4346, 10.9849) -> (-23.4346, 13.5219)
  line L6 (-21.5443, 10.9849) -> (-21.5443, 13.5219)
  line L7 (-19.5545, 10.9849) -> (-19.5545, 13.5219)
  line L8 (-17.5398, 10.9849) -> (-17.5398, 13.5219)
  line L9 (-15.6246, 10.9849) -> (-15.6246, 13.5219)
  point P0 (0, 0)
extrude "Extrusion15" cut sketch "Sketch22" against normal blind 7 contours L3 L2 L4 L0 | L5 L2 L6 L0 | L7 L2 L8 L0 | L9 L2 L1 L0
properties part number "Arduino uno"
